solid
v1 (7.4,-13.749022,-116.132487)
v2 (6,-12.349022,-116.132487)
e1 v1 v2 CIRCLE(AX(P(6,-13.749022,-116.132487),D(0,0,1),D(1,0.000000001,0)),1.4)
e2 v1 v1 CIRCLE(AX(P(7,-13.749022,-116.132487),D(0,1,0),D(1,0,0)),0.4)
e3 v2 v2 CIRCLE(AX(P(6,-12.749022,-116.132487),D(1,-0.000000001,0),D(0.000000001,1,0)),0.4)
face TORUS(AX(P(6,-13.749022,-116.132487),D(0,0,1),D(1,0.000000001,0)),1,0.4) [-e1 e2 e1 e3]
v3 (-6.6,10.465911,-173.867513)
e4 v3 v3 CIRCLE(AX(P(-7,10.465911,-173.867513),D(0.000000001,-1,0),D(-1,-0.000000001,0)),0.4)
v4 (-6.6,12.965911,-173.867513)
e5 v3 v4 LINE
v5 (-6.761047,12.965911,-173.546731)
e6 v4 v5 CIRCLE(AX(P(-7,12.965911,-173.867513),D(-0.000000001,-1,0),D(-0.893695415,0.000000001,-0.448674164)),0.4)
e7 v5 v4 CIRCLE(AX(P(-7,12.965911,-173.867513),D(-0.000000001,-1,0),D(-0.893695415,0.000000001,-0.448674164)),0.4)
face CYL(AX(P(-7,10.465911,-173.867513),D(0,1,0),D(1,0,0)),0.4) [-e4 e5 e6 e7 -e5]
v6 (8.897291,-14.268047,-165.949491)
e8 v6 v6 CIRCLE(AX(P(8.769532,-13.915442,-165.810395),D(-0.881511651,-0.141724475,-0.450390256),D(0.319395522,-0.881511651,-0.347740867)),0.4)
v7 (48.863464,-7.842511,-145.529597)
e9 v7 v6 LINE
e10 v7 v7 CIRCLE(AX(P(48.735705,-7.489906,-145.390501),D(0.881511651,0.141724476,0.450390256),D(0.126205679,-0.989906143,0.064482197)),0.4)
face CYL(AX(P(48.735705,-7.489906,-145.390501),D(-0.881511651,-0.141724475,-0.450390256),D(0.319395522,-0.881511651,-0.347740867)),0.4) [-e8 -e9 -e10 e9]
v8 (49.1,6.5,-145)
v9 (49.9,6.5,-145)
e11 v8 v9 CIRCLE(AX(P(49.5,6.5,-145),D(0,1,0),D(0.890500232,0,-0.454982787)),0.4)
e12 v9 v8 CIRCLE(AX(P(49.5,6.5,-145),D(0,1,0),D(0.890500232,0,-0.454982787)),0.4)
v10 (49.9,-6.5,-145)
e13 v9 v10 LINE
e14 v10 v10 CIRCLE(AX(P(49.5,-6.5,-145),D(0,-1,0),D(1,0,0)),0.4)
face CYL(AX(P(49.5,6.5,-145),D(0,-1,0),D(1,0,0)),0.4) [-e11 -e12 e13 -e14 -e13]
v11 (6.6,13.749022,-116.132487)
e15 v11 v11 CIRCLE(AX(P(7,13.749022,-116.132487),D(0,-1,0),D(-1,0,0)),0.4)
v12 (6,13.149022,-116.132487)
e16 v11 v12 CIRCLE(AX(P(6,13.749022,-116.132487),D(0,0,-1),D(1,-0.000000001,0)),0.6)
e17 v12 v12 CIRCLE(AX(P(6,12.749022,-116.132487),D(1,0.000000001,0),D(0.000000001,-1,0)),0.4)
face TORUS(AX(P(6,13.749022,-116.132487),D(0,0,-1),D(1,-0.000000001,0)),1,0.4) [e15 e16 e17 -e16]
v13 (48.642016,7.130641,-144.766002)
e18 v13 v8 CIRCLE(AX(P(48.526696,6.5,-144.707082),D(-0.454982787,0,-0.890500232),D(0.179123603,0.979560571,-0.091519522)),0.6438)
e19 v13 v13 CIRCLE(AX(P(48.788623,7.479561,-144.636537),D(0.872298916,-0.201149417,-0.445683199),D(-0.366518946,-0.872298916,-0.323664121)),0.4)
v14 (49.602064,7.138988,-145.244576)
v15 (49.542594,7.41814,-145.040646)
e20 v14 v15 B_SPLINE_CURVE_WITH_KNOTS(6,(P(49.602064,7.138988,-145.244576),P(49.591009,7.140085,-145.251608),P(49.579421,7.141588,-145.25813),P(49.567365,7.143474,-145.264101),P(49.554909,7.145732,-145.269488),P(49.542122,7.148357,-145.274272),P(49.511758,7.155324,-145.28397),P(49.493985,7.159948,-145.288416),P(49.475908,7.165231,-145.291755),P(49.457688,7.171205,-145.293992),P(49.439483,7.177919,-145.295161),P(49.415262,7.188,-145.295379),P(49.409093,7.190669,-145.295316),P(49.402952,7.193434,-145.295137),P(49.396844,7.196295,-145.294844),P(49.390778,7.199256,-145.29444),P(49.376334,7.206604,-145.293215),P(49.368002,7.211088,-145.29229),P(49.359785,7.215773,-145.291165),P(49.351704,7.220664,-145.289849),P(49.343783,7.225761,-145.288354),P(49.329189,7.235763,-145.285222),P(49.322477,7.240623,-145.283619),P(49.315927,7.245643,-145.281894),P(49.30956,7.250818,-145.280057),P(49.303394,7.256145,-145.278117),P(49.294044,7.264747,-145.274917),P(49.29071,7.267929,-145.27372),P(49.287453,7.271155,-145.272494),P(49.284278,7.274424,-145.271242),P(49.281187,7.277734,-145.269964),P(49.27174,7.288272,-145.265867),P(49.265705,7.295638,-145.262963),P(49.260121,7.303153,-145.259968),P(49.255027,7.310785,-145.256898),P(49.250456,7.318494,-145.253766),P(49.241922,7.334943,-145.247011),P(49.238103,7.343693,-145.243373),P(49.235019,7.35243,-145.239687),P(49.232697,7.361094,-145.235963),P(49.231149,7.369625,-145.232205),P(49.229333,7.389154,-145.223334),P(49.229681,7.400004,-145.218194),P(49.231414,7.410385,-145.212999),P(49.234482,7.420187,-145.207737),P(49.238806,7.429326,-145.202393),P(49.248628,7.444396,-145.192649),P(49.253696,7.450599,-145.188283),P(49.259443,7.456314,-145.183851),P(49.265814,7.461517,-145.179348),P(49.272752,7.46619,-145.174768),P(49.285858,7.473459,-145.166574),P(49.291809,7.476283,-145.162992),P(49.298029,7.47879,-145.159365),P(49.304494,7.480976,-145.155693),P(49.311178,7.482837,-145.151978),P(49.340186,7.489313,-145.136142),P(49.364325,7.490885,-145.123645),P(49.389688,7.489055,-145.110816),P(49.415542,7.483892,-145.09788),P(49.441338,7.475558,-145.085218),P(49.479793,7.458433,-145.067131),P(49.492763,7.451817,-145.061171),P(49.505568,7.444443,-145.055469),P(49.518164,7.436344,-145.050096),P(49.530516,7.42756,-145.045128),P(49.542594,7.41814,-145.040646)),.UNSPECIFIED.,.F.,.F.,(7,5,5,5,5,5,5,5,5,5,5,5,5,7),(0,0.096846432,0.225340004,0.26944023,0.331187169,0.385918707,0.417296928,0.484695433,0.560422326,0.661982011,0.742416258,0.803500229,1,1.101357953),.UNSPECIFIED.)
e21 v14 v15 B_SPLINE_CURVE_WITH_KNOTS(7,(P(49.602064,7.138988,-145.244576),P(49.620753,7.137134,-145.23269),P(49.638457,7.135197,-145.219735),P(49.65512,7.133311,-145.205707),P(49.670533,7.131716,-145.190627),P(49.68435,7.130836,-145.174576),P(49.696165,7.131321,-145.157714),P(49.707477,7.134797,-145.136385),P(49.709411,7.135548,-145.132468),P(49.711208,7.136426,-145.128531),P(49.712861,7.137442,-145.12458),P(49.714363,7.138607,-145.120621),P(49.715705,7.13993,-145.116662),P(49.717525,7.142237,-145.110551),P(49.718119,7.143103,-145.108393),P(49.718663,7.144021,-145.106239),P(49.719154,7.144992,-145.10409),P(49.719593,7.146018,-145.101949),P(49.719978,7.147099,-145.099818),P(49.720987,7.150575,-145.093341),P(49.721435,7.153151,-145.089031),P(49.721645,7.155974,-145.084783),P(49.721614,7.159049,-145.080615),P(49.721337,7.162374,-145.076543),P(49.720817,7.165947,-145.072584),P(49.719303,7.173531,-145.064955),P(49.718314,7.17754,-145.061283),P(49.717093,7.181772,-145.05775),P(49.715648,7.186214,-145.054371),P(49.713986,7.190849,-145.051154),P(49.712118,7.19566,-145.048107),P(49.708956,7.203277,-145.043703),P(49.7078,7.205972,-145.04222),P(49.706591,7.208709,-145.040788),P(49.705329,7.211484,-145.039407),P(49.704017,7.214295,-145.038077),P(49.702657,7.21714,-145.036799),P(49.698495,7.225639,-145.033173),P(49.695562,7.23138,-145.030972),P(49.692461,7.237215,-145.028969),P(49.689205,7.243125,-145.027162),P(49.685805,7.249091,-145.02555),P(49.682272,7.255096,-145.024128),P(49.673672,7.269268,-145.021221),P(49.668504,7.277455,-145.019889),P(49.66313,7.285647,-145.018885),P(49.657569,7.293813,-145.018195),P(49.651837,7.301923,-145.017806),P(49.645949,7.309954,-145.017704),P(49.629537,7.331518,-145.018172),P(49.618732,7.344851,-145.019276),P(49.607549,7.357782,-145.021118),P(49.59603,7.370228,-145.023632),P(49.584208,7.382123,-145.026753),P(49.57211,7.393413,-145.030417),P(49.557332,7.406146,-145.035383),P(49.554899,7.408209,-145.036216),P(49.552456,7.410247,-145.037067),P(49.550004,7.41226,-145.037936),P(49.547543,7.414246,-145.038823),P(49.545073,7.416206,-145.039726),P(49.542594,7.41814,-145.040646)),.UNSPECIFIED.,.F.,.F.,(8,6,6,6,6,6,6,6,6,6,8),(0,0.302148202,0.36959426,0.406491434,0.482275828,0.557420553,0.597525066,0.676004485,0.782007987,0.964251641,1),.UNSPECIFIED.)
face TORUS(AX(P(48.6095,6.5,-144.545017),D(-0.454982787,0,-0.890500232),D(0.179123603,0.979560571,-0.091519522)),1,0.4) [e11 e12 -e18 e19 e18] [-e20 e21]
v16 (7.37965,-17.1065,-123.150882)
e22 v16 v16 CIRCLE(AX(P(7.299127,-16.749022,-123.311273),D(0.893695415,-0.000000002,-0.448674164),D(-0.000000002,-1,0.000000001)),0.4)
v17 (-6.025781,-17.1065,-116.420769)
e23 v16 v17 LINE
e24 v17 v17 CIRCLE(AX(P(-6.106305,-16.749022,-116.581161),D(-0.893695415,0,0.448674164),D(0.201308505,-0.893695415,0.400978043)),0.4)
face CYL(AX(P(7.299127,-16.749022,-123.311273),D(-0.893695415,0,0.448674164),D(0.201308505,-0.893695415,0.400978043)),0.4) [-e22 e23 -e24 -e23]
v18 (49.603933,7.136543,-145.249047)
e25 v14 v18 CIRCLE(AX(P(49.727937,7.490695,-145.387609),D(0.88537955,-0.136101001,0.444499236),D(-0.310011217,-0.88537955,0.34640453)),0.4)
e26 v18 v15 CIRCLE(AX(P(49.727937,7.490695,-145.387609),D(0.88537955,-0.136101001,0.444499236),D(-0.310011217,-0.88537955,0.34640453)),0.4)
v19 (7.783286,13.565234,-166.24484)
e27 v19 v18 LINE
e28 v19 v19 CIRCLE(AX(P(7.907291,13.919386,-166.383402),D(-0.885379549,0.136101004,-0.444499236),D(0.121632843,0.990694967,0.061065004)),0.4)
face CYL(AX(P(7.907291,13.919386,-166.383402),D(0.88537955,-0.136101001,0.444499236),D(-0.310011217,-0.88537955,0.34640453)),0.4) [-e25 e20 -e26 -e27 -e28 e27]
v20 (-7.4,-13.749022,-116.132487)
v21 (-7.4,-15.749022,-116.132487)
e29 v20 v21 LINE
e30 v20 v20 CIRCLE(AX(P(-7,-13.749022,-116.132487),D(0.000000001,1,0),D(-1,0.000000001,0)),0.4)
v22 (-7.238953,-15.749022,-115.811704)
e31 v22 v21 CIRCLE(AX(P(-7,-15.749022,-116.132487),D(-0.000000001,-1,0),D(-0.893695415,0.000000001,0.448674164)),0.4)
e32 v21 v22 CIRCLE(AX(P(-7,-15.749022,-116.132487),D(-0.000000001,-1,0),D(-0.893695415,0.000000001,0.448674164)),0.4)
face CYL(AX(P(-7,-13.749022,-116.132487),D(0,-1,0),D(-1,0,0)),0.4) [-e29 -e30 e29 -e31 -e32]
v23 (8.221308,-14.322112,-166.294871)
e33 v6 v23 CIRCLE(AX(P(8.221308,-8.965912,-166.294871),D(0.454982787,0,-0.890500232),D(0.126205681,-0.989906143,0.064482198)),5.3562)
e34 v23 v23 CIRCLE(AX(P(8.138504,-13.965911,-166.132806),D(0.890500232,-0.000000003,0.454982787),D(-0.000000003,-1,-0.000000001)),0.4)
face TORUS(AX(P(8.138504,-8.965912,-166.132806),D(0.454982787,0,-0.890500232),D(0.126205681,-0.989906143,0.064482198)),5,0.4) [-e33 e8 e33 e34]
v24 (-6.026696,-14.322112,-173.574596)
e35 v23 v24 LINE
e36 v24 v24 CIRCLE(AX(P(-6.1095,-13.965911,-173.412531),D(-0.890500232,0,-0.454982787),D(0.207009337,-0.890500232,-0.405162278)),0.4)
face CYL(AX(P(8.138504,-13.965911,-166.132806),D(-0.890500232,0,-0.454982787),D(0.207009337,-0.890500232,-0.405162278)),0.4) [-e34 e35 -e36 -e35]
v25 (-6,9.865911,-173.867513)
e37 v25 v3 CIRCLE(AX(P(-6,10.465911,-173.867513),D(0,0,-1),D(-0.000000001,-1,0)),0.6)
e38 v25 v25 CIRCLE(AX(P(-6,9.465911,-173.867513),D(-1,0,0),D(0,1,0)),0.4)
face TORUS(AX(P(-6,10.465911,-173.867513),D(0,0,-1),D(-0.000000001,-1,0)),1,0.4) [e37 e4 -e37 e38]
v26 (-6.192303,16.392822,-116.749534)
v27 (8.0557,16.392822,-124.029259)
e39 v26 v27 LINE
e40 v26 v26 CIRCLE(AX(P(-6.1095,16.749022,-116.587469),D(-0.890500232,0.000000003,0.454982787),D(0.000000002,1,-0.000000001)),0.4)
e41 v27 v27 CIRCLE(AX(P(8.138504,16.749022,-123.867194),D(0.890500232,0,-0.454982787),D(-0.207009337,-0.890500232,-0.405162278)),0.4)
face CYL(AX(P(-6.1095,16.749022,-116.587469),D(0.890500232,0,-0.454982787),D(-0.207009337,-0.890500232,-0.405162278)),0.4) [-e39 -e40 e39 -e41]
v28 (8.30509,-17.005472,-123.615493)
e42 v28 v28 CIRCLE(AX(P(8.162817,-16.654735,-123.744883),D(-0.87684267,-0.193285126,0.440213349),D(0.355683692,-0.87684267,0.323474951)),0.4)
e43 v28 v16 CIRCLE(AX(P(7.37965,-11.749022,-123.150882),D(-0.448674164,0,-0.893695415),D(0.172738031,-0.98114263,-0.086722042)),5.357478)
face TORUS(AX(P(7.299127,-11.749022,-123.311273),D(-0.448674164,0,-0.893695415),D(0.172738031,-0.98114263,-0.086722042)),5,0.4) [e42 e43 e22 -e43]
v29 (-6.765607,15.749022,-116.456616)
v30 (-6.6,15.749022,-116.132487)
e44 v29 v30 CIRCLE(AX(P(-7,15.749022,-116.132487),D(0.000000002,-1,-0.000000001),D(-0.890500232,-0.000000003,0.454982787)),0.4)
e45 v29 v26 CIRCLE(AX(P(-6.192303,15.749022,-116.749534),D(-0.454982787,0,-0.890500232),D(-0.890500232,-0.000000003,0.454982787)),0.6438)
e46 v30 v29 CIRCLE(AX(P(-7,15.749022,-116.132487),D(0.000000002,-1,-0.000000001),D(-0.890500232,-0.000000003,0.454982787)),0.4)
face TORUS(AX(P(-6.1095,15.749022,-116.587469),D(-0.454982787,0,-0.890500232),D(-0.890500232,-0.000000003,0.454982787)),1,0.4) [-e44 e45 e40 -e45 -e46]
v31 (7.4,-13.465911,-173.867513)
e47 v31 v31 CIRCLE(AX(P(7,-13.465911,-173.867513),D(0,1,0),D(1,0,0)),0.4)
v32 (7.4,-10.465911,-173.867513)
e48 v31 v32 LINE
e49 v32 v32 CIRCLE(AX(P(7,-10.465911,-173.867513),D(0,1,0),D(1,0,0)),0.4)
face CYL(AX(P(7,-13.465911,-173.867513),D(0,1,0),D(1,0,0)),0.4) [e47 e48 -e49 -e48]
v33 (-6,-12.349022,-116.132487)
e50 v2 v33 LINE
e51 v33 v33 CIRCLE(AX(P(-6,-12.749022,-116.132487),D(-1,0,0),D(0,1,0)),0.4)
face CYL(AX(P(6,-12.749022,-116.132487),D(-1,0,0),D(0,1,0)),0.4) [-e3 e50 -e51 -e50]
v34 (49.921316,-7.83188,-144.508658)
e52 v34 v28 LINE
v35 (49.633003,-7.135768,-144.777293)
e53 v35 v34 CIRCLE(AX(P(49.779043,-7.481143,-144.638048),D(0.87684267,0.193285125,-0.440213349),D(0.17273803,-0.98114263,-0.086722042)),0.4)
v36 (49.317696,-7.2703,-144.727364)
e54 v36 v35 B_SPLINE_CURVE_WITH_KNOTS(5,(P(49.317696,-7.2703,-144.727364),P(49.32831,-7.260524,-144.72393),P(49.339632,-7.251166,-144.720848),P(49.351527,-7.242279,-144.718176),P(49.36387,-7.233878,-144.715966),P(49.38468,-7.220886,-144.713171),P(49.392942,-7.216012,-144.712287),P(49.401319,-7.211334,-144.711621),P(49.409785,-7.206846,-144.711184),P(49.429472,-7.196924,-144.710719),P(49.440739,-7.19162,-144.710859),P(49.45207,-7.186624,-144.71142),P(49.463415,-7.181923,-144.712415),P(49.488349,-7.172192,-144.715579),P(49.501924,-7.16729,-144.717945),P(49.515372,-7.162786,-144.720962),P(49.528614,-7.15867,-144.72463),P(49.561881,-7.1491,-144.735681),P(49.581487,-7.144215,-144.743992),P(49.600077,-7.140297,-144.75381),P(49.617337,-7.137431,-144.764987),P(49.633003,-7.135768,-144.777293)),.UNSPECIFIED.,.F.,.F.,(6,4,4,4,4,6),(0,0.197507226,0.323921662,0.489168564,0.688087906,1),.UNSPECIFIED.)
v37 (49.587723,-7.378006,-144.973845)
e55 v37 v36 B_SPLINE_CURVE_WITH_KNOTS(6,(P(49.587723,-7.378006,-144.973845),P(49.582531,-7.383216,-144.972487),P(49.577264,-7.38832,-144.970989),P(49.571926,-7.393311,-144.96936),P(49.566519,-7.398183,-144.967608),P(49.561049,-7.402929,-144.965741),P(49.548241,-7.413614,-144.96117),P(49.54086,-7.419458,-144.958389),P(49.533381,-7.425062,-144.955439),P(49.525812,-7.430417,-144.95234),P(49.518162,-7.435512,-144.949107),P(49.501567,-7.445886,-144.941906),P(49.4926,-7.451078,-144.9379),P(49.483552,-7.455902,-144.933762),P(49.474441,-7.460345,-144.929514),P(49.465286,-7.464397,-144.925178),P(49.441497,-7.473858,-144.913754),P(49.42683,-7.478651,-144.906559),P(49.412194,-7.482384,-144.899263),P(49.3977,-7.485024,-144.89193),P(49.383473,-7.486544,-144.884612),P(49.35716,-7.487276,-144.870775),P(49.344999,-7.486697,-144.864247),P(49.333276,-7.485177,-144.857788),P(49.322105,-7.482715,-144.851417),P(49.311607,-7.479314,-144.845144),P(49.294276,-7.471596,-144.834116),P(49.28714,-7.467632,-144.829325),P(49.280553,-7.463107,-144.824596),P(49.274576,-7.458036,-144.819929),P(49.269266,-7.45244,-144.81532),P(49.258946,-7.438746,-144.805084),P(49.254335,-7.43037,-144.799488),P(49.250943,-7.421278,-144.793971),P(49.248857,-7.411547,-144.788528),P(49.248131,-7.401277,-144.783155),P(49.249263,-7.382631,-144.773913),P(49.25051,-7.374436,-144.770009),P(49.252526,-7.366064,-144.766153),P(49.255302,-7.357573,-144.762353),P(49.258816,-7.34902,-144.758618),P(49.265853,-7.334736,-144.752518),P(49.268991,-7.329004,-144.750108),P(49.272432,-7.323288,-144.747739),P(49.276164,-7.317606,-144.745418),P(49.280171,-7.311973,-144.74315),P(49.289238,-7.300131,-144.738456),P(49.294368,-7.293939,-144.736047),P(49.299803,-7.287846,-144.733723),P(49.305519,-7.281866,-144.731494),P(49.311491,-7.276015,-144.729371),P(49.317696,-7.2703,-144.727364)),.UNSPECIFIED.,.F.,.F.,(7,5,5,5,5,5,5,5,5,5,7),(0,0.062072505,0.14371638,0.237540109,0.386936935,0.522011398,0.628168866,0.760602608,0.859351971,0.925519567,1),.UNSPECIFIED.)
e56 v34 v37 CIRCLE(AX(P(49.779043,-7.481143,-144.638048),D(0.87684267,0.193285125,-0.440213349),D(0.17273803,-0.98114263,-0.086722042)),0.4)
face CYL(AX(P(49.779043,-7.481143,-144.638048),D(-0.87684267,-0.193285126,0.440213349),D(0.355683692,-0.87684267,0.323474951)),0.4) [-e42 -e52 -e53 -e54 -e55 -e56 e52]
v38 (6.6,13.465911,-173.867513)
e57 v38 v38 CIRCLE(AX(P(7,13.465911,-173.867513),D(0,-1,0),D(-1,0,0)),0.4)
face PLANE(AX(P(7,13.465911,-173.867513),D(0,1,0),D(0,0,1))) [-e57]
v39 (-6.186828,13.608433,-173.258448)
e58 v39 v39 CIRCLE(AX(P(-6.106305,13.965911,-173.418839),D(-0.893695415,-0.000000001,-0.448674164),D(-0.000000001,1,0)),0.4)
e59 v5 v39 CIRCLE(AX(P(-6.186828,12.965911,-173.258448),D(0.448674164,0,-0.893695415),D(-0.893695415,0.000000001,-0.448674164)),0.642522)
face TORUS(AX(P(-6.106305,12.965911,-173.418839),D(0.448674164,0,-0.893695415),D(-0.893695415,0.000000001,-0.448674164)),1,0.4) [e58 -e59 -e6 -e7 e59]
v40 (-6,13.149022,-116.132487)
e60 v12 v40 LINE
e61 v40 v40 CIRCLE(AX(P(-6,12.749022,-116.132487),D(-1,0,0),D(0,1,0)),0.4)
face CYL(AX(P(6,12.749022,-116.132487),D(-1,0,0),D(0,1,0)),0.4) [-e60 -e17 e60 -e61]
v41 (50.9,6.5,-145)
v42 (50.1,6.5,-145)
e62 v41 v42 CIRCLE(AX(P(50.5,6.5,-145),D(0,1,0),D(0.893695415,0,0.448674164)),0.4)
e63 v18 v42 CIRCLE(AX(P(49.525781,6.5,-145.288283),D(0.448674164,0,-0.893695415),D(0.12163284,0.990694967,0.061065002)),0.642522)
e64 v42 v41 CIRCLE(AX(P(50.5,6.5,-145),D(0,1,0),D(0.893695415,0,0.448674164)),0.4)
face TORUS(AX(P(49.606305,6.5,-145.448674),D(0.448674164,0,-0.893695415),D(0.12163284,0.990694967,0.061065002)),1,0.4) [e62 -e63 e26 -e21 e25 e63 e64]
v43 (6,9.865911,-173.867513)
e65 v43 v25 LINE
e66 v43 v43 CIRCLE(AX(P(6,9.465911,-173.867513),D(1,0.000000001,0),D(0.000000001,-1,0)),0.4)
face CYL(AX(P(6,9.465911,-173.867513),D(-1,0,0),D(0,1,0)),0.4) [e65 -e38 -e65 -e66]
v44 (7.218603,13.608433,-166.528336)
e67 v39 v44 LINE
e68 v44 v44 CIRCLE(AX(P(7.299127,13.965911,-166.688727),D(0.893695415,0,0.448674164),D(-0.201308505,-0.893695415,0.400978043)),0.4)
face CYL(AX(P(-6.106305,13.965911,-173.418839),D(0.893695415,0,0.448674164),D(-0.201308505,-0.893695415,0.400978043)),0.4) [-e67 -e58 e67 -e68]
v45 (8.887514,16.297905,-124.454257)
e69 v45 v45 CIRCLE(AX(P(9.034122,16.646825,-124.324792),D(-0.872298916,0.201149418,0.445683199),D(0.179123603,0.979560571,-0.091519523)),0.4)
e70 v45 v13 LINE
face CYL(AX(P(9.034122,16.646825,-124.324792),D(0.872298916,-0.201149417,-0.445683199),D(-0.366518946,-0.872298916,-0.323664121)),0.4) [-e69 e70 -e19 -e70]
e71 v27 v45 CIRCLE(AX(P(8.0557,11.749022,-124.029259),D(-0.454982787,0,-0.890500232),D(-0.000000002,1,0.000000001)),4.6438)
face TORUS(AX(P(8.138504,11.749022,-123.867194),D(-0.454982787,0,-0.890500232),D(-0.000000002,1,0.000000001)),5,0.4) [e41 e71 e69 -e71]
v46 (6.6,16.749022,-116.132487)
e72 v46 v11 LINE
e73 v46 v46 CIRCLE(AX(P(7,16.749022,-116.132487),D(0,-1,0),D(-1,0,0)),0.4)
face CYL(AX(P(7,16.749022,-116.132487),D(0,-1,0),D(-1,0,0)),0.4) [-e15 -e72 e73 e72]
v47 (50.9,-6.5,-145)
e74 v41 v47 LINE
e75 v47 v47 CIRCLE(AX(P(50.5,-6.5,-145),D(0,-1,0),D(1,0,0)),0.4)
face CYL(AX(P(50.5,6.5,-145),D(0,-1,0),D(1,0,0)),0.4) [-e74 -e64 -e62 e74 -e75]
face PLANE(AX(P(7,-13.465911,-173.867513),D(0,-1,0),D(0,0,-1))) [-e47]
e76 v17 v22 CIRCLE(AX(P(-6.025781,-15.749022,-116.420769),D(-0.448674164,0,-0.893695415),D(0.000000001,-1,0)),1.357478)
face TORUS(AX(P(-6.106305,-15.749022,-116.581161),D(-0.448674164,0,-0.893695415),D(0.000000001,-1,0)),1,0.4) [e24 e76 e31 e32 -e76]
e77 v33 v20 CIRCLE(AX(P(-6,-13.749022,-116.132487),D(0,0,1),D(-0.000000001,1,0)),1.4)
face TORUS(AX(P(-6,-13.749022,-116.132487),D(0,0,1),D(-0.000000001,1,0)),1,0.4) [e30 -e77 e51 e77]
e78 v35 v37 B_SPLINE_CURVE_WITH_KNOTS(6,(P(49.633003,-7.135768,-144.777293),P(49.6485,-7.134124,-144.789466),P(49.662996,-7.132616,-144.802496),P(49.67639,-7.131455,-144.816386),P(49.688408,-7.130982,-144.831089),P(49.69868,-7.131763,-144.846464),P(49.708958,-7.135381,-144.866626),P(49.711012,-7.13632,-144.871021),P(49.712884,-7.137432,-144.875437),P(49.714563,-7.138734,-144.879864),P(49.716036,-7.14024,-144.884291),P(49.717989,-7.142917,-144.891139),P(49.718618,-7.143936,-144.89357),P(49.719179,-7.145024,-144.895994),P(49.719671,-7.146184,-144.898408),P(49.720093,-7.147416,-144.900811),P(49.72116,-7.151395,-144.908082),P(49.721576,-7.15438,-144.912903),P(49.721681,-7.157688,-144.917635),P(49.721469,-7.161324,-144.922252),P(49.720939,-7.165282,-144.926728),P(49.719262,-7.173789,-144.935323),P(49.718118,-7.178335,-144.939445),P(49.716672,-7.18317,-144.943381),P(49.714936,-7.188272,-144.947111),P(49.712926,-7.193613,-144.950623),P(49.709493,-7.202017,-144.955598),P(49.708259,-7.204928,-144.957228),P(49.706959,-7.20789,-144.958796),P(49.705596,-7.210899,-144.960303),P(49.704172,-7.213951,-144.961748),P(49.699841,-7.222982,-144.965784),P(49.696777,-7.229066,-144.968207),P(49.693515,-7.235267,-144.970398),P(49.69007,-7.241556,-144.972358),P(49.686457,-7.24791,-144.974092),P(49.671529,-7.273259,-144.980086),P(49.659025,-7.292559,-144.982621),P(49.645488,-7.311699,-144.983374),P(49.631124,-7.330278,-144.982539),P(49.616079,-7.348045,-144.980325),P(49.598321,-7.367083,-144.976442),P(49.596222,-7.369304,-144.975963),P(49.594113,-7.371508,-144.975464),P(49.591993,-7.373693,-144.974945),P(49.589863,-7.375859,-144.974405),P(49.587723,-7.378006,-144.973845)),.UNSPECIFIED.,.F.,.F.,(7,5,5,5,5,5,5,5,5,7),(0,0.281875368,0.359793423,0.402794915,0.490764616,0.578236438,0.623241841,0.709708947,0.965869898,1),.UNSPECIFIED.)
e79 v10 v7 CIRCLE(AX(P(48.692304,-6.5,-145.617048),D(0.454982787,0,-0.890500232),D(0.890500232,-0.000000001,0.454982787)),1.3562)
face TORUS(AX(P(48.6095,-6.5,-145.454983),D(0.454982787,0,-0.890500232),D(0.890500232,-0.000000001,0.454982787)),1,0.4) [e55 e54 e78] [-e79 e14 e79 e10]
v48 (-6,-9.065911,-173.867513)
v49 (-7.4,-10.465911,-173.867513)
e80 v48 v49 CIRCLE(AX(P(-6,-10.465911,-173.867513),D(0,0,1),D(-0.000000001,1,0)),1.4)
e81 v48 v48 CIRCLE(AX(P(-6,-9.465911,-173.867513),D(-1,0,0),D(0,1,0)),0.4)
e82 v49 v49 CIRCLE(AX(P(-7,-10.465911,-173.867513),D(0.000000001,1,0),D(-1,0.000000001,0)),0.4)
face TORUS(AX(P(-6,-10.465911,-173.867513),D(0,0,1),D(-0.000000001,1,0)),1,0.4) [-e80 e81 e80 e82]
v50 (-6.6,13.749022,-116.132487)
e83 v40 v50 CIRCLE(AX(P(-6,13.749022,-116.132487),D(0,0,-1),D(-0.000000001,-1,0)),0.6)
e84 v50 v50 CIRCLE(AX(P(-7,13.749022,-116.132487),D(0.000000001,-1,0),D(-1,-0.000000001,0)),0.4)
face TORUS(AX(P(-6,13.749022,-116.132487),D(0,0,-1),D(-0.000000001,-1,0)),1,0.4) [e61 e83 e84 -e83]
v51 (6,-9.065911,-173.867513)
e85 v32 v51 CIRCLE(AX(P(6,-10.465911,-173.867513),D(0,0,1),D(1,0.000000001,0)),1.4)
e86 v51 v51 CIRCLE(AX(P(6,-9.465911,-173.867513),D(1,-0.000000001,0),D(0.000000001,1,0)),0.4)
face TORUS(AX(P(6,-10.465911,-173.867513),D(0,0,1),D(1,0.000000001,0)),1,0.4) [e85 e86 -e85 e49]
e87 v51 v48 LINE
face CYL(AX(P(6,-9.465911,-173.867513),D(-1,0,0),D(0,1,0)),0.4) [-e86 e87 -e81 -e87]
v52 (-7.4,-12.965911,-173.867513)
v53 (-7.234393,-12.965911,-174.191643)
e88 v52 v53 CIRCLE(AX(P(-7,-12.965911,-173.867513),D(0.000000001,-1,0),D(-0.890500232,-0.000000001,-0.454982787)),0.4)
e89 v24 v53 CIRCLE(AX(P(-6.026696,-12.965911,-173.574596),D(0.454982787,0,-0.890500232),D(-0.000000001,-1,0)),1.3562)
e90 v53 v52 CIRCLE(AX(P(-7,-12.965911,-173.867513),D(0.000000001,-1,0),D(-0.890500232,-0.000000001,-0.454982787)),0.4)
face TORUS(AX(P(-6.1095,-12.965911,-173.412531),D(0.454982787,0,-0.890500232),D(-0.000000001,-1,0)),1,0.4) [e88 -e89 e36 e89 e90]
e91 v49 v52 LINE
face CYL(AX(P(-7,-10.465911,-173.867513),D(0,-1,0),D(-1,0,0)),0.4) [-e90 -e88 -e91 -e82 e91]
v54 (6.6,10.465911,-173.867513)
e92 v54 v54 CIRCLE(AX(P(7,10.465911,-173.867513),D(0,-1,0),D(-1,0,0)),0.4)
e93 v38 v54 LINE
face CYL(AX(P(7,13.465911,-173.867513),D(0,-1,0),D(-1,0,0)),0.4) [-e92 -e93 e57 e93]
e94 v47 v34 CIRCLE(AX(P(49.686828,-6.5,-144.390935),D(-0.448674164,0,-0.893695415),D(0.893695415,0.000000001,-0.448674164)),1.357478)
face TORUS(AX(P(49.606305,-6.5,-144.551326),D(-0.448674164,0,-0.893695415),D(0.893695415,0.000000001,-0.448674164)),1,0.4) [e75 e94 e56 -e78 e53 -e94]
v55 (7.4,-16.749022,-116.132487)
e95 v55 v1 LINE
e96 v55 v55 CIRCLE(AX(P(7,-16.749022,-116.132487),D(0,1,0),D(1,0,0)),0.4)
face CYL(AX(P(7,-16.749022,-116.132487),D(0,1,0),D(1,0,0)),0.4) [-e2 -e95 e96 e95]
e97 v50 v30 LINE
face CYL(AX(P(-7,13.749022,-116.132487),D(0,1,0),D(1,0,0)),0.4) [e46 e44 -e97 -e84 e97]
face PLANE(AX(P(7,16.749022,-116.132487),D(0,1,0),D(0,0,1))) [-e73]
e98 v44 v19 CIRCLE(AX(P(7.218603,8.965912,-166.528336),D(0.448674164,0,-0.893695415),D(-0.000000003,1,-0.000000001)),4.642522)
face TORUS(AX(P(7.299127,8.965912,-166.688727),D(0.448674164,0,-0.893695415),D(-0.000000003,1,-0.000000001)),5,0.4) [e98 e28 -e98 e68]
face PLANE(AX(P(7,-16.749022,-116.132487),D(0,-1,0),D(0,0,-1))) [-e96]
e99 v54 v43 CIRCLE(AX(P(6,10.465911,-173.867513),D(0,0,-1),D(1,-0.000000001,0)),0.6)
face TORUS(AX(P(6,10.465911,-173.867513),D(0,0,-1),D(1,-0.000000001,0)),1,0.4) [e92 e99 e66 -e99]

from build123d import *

# Parameters (mm, degrees)
SKETCH9_R  = 0.4
SKETCH10_R = 0.4
SKETCH11_R = 0.4
SKETCH12_R = 0.4
SKETCH15_R = 0.4
SKETCH16_R = 0.4
SKETCH17_R = 0.4
SKETCH18_R = 0.4


with BuildPart() as part:
    # Sweep1: sweep along a path in Sketch7
    with BuildLine(Plane(origin=(-48.501568058, 0, -94.92811354), x_dir=(-0.890500232, 0, 0.454982787), z_dir=(-0.454982787, 0, -0.890500232))) as sweep1_path:
        ThreePointArc((-46.604780717, 15.749022113), (-46.897673935, 16.456128895), (-47.604780717, 16.749022113))
        Line((-47.604780717, 16.749022113), (-63.604780717, 16.749022113))
        ThreePointArc((-63.604780717, 16.749022113), (-64.110243737, 16.723407215), (-64.610527804, 16.646824968))
        Line((-64.610527804, 16.646824968), (-109.25341498, 7.479560571))
        ThreePointArc((-109.25341498, 7.479560571), (-109.827233116, 7.132001022), (-110.052265563, 6.5))
    # Sketch9 → Sweep1 (sweep)
    with BuildSketch(Plane(origin=(0, 6.5, 0), x_dir=(-1, 0, 0), z_dir=(0, 1, 0))):
        with Locations((-49.5, -145)):
            Circle(SKETCH9_R)
    sweep(path=sweep1_path.line)

    # Sweep2: sweep along a path in Sketch3
    with BuildLine(Plane.XY.offset(-116.132486541)) as sweep2_path:
        Line((7, 16.749022113), (7, 13.749022113))
        ThreePointArc((7, 13.749022113), (6.707106781, 13.041915332), (6, 12.749022113))
        Line((6, 12.749022113), (-6, 12.749022113))
        ThreePointArc((-6, 12.749022113), (-6.707106781, 13.041915332), (-7, 13.749022113))
        Line((-7, 13.749022113), (-7, 15.749022113))
    # Sketch10 → Sweep2 (sweep)
    with BuildSketch(Plane.XZ.offset(-15.749022113)):
        with Locations((-7, -116.132486541)):
            Circle(SKETCH10_R)
    sweep(path=sweep2_path.line)

    # Sweep3: sweep along a path in Sketch8
    with BuildLine(Plane(origin=(68.995492334, 0, -135.039178985), x_dir=(-0.890500232, 0, -0.454982787), z_dir=(0.454982787, 0, -0.890500232))) as sweep3_path:
        Line((21.892742557, 6.5), (21.892742557, -6.5))
        ThreePointArc((21.892742557, -6.5), (22.137188299, -7.155086073), (22.751018082, -7.489906144))
        Line((22.751018082, -7.489906144), (67.63160503, -13.915442191))
        ThreePointArc((67.63160503, -13.915442191), (67.985018726, -13.953278193), (68.340227403, -13.965911473))
        Line((68.340227403, -13.965911473), (84.340227403, -13.965911473))
        ThreePointArc((84.340227403, -13.965911473), (85.047334184, -13.673018254), (85.340227403, -12.965911473))
    # Sketch11 → Sweep3 (sweep)
    with BuildSketch(Plane.XZ.offset(-6.5)):
        with Locations((49.5, -145)):
            Circle(SKETCH11_R)
    sweep(path=sweep3_path.line)

    # Sweep5: sweep along a path in Sketch6
    with BuildLine(Plane.XY.offset(-173.867513459)) as sweep5_path:
        Line((7, -13.465911473), (7, -10.465911473))
        ThreePointArc((7, -10.465911473), (6.707106781, -9.758804692), (6, -9.465911473))
        Line((6, -9.465911473), (-6, -9.465911473))
        ThreePointArc((-6, -9.465911473), (-6.707106781, -9.758804692), (-7, -10.465911473))
        Line((-7, -10.465911473), (-7, -12.965911473))
    # Sketch12 → Sweep5 (sweep)
    with BuildSketch(Plane(origin=(0, -12.965911473, 0), x_dir=(-1, 0, 0), z_dir=(0, 1, 0))):
        with Locations((7, -173.867513459)):
            Circle(SKETCH12_R)
    sweep(path=sweep5_path.line)

    # Sweep6: sweep along a path in Sketch14
    with BuildLine(Plane(origin=(68.307895755, 0, -136.059657906), x_dir=(-0.893695415, 0, -0.448674164), z_dir=(0.448674164, 0, -0.893695415))) as sweep6_path:
        ThreePointArc((84.265729123, 12.965911473), (83.972835904, 13.673018254), (83.265729123, 13.965911473))
        Line((83.265729123, 13.965911473), (68.265729123, 13.965911473))
        ThreePointArc((68.265729123, 13.965911473), (67.924682333, 13.954266622), (67.58522412, 13.919386308))
        Line((67.58522412, 13.919386308), (20.790034299, 7.490694967))
        ThreePointArc((20.790034299, 7.490694967), (20.172444049, 7.157228651), (19.926135299, 6.5))
    # Sketch15 → Sweep6 (sweep)
    with BuildSketch(Plane(origin=(0, 6.5, 0), x_dir=(-1, 0, 0), z_dir=(0, 1, 0))):
        with Locations((-50.5, -145)):
            Circle(SKETCH15_R)
    sweep(path=sweep6_path.line)

    # Sweep7: sweep along a path in Sketch4
    with BuildLine(Plane.XY.offset(-173.867513459)) as sweep7_path:
        Line((7, 13.465911473), (7, 10.465911473))
        ThreePointArc((7, 10.465911473), (6.707106781, 9.758804692), (6, 9.465911473))
        Line((6, 9.465911473), (-6, 9.465911473))
        ThreePointArc((-6, 9.465911473), (-6.707106781, 9.758804692), (-7, 10.465911473))
        Line((-7, 10.465911473), (-7, 12.965911473))
    # Sketch16 → Sweep7 (sweep)
    with BuildSketch(Plane.XZ.offset(-12.965911473)):
        with Locations((-7, -173.867513459)):
            Circle(SKETCH16_R)
    sweep(path=sweep7_path.line)

    # Sweep8: sweep along a path in Sketch13
    with BuildLine(Plane(origin=(-47.975736721, 0, -95.560875561), x_dir=(-0.893695415, 0, 0.448674164), z_dir=(-0.448674164, 0, -0.893695415))) as sweep8_path:
        Line((-110.18937221, 6.5), (-110.18937221, -6.5))
        ThreePointArc((-110.18937221, -6.5), (-109.961798623, -7.135104273), (-109.382657336, -7.48114263))
        Line((-109.382657336, -7.48114263), (-62.816204017, -16.654735263))
        ThreePointArc((-62.816204017, -16.654735263), (-62.335285469, -16.725394575), (-61.849778387, -16.749022113))
        Line((-61.849778387, -16.749022113), (-46.849778387, -16.749022113))
        ThreePointArc((-46.849778387, -16.749022113), (-46.142671606, -16.456128895), (-45.849778387, -15.749022113))
    # Sketch17 → Sweep8 (sweep)
    with BuildSketch(Plane.XZ.offset(-6.5)):
        with Locations((50.5, -145)):
            Circle(SKETCH17_R)
    sweep(path=sweep8_path.line)

    # Sweep9: sweep along a path in Sketch5
    with BuildLine(Plane.XY.offset(-116.132486541)) as sweep9_path:
        Line((7, -16.749022113), (7, -13.749022113))
        ThreePointArc((7, -13.749022113), (6.707106781, -13.041915332), (6, -12.749022113))
        Line((6, -12.749022113), (-6, -12.749022113))
        ThreePointArc((-6, -12.749022113), (-6.707106781, -13.041915332), (-7, -13.749022113))
        Line((-7, -13.749022113), (-7, -15.749022113))
    # Sketch18 → Sweep9 (sweep)
    with BuildSketch(Plane(origin=(0, -15.749022113, 0), x_dir=(-1, 0, 0), z_dir=(0, 1, 0))):
        with Locations((7, -116.132486541)):
            Circle(SKETCH18_R)
    sweep(path=sweep9_path.line)


solid = part.part
